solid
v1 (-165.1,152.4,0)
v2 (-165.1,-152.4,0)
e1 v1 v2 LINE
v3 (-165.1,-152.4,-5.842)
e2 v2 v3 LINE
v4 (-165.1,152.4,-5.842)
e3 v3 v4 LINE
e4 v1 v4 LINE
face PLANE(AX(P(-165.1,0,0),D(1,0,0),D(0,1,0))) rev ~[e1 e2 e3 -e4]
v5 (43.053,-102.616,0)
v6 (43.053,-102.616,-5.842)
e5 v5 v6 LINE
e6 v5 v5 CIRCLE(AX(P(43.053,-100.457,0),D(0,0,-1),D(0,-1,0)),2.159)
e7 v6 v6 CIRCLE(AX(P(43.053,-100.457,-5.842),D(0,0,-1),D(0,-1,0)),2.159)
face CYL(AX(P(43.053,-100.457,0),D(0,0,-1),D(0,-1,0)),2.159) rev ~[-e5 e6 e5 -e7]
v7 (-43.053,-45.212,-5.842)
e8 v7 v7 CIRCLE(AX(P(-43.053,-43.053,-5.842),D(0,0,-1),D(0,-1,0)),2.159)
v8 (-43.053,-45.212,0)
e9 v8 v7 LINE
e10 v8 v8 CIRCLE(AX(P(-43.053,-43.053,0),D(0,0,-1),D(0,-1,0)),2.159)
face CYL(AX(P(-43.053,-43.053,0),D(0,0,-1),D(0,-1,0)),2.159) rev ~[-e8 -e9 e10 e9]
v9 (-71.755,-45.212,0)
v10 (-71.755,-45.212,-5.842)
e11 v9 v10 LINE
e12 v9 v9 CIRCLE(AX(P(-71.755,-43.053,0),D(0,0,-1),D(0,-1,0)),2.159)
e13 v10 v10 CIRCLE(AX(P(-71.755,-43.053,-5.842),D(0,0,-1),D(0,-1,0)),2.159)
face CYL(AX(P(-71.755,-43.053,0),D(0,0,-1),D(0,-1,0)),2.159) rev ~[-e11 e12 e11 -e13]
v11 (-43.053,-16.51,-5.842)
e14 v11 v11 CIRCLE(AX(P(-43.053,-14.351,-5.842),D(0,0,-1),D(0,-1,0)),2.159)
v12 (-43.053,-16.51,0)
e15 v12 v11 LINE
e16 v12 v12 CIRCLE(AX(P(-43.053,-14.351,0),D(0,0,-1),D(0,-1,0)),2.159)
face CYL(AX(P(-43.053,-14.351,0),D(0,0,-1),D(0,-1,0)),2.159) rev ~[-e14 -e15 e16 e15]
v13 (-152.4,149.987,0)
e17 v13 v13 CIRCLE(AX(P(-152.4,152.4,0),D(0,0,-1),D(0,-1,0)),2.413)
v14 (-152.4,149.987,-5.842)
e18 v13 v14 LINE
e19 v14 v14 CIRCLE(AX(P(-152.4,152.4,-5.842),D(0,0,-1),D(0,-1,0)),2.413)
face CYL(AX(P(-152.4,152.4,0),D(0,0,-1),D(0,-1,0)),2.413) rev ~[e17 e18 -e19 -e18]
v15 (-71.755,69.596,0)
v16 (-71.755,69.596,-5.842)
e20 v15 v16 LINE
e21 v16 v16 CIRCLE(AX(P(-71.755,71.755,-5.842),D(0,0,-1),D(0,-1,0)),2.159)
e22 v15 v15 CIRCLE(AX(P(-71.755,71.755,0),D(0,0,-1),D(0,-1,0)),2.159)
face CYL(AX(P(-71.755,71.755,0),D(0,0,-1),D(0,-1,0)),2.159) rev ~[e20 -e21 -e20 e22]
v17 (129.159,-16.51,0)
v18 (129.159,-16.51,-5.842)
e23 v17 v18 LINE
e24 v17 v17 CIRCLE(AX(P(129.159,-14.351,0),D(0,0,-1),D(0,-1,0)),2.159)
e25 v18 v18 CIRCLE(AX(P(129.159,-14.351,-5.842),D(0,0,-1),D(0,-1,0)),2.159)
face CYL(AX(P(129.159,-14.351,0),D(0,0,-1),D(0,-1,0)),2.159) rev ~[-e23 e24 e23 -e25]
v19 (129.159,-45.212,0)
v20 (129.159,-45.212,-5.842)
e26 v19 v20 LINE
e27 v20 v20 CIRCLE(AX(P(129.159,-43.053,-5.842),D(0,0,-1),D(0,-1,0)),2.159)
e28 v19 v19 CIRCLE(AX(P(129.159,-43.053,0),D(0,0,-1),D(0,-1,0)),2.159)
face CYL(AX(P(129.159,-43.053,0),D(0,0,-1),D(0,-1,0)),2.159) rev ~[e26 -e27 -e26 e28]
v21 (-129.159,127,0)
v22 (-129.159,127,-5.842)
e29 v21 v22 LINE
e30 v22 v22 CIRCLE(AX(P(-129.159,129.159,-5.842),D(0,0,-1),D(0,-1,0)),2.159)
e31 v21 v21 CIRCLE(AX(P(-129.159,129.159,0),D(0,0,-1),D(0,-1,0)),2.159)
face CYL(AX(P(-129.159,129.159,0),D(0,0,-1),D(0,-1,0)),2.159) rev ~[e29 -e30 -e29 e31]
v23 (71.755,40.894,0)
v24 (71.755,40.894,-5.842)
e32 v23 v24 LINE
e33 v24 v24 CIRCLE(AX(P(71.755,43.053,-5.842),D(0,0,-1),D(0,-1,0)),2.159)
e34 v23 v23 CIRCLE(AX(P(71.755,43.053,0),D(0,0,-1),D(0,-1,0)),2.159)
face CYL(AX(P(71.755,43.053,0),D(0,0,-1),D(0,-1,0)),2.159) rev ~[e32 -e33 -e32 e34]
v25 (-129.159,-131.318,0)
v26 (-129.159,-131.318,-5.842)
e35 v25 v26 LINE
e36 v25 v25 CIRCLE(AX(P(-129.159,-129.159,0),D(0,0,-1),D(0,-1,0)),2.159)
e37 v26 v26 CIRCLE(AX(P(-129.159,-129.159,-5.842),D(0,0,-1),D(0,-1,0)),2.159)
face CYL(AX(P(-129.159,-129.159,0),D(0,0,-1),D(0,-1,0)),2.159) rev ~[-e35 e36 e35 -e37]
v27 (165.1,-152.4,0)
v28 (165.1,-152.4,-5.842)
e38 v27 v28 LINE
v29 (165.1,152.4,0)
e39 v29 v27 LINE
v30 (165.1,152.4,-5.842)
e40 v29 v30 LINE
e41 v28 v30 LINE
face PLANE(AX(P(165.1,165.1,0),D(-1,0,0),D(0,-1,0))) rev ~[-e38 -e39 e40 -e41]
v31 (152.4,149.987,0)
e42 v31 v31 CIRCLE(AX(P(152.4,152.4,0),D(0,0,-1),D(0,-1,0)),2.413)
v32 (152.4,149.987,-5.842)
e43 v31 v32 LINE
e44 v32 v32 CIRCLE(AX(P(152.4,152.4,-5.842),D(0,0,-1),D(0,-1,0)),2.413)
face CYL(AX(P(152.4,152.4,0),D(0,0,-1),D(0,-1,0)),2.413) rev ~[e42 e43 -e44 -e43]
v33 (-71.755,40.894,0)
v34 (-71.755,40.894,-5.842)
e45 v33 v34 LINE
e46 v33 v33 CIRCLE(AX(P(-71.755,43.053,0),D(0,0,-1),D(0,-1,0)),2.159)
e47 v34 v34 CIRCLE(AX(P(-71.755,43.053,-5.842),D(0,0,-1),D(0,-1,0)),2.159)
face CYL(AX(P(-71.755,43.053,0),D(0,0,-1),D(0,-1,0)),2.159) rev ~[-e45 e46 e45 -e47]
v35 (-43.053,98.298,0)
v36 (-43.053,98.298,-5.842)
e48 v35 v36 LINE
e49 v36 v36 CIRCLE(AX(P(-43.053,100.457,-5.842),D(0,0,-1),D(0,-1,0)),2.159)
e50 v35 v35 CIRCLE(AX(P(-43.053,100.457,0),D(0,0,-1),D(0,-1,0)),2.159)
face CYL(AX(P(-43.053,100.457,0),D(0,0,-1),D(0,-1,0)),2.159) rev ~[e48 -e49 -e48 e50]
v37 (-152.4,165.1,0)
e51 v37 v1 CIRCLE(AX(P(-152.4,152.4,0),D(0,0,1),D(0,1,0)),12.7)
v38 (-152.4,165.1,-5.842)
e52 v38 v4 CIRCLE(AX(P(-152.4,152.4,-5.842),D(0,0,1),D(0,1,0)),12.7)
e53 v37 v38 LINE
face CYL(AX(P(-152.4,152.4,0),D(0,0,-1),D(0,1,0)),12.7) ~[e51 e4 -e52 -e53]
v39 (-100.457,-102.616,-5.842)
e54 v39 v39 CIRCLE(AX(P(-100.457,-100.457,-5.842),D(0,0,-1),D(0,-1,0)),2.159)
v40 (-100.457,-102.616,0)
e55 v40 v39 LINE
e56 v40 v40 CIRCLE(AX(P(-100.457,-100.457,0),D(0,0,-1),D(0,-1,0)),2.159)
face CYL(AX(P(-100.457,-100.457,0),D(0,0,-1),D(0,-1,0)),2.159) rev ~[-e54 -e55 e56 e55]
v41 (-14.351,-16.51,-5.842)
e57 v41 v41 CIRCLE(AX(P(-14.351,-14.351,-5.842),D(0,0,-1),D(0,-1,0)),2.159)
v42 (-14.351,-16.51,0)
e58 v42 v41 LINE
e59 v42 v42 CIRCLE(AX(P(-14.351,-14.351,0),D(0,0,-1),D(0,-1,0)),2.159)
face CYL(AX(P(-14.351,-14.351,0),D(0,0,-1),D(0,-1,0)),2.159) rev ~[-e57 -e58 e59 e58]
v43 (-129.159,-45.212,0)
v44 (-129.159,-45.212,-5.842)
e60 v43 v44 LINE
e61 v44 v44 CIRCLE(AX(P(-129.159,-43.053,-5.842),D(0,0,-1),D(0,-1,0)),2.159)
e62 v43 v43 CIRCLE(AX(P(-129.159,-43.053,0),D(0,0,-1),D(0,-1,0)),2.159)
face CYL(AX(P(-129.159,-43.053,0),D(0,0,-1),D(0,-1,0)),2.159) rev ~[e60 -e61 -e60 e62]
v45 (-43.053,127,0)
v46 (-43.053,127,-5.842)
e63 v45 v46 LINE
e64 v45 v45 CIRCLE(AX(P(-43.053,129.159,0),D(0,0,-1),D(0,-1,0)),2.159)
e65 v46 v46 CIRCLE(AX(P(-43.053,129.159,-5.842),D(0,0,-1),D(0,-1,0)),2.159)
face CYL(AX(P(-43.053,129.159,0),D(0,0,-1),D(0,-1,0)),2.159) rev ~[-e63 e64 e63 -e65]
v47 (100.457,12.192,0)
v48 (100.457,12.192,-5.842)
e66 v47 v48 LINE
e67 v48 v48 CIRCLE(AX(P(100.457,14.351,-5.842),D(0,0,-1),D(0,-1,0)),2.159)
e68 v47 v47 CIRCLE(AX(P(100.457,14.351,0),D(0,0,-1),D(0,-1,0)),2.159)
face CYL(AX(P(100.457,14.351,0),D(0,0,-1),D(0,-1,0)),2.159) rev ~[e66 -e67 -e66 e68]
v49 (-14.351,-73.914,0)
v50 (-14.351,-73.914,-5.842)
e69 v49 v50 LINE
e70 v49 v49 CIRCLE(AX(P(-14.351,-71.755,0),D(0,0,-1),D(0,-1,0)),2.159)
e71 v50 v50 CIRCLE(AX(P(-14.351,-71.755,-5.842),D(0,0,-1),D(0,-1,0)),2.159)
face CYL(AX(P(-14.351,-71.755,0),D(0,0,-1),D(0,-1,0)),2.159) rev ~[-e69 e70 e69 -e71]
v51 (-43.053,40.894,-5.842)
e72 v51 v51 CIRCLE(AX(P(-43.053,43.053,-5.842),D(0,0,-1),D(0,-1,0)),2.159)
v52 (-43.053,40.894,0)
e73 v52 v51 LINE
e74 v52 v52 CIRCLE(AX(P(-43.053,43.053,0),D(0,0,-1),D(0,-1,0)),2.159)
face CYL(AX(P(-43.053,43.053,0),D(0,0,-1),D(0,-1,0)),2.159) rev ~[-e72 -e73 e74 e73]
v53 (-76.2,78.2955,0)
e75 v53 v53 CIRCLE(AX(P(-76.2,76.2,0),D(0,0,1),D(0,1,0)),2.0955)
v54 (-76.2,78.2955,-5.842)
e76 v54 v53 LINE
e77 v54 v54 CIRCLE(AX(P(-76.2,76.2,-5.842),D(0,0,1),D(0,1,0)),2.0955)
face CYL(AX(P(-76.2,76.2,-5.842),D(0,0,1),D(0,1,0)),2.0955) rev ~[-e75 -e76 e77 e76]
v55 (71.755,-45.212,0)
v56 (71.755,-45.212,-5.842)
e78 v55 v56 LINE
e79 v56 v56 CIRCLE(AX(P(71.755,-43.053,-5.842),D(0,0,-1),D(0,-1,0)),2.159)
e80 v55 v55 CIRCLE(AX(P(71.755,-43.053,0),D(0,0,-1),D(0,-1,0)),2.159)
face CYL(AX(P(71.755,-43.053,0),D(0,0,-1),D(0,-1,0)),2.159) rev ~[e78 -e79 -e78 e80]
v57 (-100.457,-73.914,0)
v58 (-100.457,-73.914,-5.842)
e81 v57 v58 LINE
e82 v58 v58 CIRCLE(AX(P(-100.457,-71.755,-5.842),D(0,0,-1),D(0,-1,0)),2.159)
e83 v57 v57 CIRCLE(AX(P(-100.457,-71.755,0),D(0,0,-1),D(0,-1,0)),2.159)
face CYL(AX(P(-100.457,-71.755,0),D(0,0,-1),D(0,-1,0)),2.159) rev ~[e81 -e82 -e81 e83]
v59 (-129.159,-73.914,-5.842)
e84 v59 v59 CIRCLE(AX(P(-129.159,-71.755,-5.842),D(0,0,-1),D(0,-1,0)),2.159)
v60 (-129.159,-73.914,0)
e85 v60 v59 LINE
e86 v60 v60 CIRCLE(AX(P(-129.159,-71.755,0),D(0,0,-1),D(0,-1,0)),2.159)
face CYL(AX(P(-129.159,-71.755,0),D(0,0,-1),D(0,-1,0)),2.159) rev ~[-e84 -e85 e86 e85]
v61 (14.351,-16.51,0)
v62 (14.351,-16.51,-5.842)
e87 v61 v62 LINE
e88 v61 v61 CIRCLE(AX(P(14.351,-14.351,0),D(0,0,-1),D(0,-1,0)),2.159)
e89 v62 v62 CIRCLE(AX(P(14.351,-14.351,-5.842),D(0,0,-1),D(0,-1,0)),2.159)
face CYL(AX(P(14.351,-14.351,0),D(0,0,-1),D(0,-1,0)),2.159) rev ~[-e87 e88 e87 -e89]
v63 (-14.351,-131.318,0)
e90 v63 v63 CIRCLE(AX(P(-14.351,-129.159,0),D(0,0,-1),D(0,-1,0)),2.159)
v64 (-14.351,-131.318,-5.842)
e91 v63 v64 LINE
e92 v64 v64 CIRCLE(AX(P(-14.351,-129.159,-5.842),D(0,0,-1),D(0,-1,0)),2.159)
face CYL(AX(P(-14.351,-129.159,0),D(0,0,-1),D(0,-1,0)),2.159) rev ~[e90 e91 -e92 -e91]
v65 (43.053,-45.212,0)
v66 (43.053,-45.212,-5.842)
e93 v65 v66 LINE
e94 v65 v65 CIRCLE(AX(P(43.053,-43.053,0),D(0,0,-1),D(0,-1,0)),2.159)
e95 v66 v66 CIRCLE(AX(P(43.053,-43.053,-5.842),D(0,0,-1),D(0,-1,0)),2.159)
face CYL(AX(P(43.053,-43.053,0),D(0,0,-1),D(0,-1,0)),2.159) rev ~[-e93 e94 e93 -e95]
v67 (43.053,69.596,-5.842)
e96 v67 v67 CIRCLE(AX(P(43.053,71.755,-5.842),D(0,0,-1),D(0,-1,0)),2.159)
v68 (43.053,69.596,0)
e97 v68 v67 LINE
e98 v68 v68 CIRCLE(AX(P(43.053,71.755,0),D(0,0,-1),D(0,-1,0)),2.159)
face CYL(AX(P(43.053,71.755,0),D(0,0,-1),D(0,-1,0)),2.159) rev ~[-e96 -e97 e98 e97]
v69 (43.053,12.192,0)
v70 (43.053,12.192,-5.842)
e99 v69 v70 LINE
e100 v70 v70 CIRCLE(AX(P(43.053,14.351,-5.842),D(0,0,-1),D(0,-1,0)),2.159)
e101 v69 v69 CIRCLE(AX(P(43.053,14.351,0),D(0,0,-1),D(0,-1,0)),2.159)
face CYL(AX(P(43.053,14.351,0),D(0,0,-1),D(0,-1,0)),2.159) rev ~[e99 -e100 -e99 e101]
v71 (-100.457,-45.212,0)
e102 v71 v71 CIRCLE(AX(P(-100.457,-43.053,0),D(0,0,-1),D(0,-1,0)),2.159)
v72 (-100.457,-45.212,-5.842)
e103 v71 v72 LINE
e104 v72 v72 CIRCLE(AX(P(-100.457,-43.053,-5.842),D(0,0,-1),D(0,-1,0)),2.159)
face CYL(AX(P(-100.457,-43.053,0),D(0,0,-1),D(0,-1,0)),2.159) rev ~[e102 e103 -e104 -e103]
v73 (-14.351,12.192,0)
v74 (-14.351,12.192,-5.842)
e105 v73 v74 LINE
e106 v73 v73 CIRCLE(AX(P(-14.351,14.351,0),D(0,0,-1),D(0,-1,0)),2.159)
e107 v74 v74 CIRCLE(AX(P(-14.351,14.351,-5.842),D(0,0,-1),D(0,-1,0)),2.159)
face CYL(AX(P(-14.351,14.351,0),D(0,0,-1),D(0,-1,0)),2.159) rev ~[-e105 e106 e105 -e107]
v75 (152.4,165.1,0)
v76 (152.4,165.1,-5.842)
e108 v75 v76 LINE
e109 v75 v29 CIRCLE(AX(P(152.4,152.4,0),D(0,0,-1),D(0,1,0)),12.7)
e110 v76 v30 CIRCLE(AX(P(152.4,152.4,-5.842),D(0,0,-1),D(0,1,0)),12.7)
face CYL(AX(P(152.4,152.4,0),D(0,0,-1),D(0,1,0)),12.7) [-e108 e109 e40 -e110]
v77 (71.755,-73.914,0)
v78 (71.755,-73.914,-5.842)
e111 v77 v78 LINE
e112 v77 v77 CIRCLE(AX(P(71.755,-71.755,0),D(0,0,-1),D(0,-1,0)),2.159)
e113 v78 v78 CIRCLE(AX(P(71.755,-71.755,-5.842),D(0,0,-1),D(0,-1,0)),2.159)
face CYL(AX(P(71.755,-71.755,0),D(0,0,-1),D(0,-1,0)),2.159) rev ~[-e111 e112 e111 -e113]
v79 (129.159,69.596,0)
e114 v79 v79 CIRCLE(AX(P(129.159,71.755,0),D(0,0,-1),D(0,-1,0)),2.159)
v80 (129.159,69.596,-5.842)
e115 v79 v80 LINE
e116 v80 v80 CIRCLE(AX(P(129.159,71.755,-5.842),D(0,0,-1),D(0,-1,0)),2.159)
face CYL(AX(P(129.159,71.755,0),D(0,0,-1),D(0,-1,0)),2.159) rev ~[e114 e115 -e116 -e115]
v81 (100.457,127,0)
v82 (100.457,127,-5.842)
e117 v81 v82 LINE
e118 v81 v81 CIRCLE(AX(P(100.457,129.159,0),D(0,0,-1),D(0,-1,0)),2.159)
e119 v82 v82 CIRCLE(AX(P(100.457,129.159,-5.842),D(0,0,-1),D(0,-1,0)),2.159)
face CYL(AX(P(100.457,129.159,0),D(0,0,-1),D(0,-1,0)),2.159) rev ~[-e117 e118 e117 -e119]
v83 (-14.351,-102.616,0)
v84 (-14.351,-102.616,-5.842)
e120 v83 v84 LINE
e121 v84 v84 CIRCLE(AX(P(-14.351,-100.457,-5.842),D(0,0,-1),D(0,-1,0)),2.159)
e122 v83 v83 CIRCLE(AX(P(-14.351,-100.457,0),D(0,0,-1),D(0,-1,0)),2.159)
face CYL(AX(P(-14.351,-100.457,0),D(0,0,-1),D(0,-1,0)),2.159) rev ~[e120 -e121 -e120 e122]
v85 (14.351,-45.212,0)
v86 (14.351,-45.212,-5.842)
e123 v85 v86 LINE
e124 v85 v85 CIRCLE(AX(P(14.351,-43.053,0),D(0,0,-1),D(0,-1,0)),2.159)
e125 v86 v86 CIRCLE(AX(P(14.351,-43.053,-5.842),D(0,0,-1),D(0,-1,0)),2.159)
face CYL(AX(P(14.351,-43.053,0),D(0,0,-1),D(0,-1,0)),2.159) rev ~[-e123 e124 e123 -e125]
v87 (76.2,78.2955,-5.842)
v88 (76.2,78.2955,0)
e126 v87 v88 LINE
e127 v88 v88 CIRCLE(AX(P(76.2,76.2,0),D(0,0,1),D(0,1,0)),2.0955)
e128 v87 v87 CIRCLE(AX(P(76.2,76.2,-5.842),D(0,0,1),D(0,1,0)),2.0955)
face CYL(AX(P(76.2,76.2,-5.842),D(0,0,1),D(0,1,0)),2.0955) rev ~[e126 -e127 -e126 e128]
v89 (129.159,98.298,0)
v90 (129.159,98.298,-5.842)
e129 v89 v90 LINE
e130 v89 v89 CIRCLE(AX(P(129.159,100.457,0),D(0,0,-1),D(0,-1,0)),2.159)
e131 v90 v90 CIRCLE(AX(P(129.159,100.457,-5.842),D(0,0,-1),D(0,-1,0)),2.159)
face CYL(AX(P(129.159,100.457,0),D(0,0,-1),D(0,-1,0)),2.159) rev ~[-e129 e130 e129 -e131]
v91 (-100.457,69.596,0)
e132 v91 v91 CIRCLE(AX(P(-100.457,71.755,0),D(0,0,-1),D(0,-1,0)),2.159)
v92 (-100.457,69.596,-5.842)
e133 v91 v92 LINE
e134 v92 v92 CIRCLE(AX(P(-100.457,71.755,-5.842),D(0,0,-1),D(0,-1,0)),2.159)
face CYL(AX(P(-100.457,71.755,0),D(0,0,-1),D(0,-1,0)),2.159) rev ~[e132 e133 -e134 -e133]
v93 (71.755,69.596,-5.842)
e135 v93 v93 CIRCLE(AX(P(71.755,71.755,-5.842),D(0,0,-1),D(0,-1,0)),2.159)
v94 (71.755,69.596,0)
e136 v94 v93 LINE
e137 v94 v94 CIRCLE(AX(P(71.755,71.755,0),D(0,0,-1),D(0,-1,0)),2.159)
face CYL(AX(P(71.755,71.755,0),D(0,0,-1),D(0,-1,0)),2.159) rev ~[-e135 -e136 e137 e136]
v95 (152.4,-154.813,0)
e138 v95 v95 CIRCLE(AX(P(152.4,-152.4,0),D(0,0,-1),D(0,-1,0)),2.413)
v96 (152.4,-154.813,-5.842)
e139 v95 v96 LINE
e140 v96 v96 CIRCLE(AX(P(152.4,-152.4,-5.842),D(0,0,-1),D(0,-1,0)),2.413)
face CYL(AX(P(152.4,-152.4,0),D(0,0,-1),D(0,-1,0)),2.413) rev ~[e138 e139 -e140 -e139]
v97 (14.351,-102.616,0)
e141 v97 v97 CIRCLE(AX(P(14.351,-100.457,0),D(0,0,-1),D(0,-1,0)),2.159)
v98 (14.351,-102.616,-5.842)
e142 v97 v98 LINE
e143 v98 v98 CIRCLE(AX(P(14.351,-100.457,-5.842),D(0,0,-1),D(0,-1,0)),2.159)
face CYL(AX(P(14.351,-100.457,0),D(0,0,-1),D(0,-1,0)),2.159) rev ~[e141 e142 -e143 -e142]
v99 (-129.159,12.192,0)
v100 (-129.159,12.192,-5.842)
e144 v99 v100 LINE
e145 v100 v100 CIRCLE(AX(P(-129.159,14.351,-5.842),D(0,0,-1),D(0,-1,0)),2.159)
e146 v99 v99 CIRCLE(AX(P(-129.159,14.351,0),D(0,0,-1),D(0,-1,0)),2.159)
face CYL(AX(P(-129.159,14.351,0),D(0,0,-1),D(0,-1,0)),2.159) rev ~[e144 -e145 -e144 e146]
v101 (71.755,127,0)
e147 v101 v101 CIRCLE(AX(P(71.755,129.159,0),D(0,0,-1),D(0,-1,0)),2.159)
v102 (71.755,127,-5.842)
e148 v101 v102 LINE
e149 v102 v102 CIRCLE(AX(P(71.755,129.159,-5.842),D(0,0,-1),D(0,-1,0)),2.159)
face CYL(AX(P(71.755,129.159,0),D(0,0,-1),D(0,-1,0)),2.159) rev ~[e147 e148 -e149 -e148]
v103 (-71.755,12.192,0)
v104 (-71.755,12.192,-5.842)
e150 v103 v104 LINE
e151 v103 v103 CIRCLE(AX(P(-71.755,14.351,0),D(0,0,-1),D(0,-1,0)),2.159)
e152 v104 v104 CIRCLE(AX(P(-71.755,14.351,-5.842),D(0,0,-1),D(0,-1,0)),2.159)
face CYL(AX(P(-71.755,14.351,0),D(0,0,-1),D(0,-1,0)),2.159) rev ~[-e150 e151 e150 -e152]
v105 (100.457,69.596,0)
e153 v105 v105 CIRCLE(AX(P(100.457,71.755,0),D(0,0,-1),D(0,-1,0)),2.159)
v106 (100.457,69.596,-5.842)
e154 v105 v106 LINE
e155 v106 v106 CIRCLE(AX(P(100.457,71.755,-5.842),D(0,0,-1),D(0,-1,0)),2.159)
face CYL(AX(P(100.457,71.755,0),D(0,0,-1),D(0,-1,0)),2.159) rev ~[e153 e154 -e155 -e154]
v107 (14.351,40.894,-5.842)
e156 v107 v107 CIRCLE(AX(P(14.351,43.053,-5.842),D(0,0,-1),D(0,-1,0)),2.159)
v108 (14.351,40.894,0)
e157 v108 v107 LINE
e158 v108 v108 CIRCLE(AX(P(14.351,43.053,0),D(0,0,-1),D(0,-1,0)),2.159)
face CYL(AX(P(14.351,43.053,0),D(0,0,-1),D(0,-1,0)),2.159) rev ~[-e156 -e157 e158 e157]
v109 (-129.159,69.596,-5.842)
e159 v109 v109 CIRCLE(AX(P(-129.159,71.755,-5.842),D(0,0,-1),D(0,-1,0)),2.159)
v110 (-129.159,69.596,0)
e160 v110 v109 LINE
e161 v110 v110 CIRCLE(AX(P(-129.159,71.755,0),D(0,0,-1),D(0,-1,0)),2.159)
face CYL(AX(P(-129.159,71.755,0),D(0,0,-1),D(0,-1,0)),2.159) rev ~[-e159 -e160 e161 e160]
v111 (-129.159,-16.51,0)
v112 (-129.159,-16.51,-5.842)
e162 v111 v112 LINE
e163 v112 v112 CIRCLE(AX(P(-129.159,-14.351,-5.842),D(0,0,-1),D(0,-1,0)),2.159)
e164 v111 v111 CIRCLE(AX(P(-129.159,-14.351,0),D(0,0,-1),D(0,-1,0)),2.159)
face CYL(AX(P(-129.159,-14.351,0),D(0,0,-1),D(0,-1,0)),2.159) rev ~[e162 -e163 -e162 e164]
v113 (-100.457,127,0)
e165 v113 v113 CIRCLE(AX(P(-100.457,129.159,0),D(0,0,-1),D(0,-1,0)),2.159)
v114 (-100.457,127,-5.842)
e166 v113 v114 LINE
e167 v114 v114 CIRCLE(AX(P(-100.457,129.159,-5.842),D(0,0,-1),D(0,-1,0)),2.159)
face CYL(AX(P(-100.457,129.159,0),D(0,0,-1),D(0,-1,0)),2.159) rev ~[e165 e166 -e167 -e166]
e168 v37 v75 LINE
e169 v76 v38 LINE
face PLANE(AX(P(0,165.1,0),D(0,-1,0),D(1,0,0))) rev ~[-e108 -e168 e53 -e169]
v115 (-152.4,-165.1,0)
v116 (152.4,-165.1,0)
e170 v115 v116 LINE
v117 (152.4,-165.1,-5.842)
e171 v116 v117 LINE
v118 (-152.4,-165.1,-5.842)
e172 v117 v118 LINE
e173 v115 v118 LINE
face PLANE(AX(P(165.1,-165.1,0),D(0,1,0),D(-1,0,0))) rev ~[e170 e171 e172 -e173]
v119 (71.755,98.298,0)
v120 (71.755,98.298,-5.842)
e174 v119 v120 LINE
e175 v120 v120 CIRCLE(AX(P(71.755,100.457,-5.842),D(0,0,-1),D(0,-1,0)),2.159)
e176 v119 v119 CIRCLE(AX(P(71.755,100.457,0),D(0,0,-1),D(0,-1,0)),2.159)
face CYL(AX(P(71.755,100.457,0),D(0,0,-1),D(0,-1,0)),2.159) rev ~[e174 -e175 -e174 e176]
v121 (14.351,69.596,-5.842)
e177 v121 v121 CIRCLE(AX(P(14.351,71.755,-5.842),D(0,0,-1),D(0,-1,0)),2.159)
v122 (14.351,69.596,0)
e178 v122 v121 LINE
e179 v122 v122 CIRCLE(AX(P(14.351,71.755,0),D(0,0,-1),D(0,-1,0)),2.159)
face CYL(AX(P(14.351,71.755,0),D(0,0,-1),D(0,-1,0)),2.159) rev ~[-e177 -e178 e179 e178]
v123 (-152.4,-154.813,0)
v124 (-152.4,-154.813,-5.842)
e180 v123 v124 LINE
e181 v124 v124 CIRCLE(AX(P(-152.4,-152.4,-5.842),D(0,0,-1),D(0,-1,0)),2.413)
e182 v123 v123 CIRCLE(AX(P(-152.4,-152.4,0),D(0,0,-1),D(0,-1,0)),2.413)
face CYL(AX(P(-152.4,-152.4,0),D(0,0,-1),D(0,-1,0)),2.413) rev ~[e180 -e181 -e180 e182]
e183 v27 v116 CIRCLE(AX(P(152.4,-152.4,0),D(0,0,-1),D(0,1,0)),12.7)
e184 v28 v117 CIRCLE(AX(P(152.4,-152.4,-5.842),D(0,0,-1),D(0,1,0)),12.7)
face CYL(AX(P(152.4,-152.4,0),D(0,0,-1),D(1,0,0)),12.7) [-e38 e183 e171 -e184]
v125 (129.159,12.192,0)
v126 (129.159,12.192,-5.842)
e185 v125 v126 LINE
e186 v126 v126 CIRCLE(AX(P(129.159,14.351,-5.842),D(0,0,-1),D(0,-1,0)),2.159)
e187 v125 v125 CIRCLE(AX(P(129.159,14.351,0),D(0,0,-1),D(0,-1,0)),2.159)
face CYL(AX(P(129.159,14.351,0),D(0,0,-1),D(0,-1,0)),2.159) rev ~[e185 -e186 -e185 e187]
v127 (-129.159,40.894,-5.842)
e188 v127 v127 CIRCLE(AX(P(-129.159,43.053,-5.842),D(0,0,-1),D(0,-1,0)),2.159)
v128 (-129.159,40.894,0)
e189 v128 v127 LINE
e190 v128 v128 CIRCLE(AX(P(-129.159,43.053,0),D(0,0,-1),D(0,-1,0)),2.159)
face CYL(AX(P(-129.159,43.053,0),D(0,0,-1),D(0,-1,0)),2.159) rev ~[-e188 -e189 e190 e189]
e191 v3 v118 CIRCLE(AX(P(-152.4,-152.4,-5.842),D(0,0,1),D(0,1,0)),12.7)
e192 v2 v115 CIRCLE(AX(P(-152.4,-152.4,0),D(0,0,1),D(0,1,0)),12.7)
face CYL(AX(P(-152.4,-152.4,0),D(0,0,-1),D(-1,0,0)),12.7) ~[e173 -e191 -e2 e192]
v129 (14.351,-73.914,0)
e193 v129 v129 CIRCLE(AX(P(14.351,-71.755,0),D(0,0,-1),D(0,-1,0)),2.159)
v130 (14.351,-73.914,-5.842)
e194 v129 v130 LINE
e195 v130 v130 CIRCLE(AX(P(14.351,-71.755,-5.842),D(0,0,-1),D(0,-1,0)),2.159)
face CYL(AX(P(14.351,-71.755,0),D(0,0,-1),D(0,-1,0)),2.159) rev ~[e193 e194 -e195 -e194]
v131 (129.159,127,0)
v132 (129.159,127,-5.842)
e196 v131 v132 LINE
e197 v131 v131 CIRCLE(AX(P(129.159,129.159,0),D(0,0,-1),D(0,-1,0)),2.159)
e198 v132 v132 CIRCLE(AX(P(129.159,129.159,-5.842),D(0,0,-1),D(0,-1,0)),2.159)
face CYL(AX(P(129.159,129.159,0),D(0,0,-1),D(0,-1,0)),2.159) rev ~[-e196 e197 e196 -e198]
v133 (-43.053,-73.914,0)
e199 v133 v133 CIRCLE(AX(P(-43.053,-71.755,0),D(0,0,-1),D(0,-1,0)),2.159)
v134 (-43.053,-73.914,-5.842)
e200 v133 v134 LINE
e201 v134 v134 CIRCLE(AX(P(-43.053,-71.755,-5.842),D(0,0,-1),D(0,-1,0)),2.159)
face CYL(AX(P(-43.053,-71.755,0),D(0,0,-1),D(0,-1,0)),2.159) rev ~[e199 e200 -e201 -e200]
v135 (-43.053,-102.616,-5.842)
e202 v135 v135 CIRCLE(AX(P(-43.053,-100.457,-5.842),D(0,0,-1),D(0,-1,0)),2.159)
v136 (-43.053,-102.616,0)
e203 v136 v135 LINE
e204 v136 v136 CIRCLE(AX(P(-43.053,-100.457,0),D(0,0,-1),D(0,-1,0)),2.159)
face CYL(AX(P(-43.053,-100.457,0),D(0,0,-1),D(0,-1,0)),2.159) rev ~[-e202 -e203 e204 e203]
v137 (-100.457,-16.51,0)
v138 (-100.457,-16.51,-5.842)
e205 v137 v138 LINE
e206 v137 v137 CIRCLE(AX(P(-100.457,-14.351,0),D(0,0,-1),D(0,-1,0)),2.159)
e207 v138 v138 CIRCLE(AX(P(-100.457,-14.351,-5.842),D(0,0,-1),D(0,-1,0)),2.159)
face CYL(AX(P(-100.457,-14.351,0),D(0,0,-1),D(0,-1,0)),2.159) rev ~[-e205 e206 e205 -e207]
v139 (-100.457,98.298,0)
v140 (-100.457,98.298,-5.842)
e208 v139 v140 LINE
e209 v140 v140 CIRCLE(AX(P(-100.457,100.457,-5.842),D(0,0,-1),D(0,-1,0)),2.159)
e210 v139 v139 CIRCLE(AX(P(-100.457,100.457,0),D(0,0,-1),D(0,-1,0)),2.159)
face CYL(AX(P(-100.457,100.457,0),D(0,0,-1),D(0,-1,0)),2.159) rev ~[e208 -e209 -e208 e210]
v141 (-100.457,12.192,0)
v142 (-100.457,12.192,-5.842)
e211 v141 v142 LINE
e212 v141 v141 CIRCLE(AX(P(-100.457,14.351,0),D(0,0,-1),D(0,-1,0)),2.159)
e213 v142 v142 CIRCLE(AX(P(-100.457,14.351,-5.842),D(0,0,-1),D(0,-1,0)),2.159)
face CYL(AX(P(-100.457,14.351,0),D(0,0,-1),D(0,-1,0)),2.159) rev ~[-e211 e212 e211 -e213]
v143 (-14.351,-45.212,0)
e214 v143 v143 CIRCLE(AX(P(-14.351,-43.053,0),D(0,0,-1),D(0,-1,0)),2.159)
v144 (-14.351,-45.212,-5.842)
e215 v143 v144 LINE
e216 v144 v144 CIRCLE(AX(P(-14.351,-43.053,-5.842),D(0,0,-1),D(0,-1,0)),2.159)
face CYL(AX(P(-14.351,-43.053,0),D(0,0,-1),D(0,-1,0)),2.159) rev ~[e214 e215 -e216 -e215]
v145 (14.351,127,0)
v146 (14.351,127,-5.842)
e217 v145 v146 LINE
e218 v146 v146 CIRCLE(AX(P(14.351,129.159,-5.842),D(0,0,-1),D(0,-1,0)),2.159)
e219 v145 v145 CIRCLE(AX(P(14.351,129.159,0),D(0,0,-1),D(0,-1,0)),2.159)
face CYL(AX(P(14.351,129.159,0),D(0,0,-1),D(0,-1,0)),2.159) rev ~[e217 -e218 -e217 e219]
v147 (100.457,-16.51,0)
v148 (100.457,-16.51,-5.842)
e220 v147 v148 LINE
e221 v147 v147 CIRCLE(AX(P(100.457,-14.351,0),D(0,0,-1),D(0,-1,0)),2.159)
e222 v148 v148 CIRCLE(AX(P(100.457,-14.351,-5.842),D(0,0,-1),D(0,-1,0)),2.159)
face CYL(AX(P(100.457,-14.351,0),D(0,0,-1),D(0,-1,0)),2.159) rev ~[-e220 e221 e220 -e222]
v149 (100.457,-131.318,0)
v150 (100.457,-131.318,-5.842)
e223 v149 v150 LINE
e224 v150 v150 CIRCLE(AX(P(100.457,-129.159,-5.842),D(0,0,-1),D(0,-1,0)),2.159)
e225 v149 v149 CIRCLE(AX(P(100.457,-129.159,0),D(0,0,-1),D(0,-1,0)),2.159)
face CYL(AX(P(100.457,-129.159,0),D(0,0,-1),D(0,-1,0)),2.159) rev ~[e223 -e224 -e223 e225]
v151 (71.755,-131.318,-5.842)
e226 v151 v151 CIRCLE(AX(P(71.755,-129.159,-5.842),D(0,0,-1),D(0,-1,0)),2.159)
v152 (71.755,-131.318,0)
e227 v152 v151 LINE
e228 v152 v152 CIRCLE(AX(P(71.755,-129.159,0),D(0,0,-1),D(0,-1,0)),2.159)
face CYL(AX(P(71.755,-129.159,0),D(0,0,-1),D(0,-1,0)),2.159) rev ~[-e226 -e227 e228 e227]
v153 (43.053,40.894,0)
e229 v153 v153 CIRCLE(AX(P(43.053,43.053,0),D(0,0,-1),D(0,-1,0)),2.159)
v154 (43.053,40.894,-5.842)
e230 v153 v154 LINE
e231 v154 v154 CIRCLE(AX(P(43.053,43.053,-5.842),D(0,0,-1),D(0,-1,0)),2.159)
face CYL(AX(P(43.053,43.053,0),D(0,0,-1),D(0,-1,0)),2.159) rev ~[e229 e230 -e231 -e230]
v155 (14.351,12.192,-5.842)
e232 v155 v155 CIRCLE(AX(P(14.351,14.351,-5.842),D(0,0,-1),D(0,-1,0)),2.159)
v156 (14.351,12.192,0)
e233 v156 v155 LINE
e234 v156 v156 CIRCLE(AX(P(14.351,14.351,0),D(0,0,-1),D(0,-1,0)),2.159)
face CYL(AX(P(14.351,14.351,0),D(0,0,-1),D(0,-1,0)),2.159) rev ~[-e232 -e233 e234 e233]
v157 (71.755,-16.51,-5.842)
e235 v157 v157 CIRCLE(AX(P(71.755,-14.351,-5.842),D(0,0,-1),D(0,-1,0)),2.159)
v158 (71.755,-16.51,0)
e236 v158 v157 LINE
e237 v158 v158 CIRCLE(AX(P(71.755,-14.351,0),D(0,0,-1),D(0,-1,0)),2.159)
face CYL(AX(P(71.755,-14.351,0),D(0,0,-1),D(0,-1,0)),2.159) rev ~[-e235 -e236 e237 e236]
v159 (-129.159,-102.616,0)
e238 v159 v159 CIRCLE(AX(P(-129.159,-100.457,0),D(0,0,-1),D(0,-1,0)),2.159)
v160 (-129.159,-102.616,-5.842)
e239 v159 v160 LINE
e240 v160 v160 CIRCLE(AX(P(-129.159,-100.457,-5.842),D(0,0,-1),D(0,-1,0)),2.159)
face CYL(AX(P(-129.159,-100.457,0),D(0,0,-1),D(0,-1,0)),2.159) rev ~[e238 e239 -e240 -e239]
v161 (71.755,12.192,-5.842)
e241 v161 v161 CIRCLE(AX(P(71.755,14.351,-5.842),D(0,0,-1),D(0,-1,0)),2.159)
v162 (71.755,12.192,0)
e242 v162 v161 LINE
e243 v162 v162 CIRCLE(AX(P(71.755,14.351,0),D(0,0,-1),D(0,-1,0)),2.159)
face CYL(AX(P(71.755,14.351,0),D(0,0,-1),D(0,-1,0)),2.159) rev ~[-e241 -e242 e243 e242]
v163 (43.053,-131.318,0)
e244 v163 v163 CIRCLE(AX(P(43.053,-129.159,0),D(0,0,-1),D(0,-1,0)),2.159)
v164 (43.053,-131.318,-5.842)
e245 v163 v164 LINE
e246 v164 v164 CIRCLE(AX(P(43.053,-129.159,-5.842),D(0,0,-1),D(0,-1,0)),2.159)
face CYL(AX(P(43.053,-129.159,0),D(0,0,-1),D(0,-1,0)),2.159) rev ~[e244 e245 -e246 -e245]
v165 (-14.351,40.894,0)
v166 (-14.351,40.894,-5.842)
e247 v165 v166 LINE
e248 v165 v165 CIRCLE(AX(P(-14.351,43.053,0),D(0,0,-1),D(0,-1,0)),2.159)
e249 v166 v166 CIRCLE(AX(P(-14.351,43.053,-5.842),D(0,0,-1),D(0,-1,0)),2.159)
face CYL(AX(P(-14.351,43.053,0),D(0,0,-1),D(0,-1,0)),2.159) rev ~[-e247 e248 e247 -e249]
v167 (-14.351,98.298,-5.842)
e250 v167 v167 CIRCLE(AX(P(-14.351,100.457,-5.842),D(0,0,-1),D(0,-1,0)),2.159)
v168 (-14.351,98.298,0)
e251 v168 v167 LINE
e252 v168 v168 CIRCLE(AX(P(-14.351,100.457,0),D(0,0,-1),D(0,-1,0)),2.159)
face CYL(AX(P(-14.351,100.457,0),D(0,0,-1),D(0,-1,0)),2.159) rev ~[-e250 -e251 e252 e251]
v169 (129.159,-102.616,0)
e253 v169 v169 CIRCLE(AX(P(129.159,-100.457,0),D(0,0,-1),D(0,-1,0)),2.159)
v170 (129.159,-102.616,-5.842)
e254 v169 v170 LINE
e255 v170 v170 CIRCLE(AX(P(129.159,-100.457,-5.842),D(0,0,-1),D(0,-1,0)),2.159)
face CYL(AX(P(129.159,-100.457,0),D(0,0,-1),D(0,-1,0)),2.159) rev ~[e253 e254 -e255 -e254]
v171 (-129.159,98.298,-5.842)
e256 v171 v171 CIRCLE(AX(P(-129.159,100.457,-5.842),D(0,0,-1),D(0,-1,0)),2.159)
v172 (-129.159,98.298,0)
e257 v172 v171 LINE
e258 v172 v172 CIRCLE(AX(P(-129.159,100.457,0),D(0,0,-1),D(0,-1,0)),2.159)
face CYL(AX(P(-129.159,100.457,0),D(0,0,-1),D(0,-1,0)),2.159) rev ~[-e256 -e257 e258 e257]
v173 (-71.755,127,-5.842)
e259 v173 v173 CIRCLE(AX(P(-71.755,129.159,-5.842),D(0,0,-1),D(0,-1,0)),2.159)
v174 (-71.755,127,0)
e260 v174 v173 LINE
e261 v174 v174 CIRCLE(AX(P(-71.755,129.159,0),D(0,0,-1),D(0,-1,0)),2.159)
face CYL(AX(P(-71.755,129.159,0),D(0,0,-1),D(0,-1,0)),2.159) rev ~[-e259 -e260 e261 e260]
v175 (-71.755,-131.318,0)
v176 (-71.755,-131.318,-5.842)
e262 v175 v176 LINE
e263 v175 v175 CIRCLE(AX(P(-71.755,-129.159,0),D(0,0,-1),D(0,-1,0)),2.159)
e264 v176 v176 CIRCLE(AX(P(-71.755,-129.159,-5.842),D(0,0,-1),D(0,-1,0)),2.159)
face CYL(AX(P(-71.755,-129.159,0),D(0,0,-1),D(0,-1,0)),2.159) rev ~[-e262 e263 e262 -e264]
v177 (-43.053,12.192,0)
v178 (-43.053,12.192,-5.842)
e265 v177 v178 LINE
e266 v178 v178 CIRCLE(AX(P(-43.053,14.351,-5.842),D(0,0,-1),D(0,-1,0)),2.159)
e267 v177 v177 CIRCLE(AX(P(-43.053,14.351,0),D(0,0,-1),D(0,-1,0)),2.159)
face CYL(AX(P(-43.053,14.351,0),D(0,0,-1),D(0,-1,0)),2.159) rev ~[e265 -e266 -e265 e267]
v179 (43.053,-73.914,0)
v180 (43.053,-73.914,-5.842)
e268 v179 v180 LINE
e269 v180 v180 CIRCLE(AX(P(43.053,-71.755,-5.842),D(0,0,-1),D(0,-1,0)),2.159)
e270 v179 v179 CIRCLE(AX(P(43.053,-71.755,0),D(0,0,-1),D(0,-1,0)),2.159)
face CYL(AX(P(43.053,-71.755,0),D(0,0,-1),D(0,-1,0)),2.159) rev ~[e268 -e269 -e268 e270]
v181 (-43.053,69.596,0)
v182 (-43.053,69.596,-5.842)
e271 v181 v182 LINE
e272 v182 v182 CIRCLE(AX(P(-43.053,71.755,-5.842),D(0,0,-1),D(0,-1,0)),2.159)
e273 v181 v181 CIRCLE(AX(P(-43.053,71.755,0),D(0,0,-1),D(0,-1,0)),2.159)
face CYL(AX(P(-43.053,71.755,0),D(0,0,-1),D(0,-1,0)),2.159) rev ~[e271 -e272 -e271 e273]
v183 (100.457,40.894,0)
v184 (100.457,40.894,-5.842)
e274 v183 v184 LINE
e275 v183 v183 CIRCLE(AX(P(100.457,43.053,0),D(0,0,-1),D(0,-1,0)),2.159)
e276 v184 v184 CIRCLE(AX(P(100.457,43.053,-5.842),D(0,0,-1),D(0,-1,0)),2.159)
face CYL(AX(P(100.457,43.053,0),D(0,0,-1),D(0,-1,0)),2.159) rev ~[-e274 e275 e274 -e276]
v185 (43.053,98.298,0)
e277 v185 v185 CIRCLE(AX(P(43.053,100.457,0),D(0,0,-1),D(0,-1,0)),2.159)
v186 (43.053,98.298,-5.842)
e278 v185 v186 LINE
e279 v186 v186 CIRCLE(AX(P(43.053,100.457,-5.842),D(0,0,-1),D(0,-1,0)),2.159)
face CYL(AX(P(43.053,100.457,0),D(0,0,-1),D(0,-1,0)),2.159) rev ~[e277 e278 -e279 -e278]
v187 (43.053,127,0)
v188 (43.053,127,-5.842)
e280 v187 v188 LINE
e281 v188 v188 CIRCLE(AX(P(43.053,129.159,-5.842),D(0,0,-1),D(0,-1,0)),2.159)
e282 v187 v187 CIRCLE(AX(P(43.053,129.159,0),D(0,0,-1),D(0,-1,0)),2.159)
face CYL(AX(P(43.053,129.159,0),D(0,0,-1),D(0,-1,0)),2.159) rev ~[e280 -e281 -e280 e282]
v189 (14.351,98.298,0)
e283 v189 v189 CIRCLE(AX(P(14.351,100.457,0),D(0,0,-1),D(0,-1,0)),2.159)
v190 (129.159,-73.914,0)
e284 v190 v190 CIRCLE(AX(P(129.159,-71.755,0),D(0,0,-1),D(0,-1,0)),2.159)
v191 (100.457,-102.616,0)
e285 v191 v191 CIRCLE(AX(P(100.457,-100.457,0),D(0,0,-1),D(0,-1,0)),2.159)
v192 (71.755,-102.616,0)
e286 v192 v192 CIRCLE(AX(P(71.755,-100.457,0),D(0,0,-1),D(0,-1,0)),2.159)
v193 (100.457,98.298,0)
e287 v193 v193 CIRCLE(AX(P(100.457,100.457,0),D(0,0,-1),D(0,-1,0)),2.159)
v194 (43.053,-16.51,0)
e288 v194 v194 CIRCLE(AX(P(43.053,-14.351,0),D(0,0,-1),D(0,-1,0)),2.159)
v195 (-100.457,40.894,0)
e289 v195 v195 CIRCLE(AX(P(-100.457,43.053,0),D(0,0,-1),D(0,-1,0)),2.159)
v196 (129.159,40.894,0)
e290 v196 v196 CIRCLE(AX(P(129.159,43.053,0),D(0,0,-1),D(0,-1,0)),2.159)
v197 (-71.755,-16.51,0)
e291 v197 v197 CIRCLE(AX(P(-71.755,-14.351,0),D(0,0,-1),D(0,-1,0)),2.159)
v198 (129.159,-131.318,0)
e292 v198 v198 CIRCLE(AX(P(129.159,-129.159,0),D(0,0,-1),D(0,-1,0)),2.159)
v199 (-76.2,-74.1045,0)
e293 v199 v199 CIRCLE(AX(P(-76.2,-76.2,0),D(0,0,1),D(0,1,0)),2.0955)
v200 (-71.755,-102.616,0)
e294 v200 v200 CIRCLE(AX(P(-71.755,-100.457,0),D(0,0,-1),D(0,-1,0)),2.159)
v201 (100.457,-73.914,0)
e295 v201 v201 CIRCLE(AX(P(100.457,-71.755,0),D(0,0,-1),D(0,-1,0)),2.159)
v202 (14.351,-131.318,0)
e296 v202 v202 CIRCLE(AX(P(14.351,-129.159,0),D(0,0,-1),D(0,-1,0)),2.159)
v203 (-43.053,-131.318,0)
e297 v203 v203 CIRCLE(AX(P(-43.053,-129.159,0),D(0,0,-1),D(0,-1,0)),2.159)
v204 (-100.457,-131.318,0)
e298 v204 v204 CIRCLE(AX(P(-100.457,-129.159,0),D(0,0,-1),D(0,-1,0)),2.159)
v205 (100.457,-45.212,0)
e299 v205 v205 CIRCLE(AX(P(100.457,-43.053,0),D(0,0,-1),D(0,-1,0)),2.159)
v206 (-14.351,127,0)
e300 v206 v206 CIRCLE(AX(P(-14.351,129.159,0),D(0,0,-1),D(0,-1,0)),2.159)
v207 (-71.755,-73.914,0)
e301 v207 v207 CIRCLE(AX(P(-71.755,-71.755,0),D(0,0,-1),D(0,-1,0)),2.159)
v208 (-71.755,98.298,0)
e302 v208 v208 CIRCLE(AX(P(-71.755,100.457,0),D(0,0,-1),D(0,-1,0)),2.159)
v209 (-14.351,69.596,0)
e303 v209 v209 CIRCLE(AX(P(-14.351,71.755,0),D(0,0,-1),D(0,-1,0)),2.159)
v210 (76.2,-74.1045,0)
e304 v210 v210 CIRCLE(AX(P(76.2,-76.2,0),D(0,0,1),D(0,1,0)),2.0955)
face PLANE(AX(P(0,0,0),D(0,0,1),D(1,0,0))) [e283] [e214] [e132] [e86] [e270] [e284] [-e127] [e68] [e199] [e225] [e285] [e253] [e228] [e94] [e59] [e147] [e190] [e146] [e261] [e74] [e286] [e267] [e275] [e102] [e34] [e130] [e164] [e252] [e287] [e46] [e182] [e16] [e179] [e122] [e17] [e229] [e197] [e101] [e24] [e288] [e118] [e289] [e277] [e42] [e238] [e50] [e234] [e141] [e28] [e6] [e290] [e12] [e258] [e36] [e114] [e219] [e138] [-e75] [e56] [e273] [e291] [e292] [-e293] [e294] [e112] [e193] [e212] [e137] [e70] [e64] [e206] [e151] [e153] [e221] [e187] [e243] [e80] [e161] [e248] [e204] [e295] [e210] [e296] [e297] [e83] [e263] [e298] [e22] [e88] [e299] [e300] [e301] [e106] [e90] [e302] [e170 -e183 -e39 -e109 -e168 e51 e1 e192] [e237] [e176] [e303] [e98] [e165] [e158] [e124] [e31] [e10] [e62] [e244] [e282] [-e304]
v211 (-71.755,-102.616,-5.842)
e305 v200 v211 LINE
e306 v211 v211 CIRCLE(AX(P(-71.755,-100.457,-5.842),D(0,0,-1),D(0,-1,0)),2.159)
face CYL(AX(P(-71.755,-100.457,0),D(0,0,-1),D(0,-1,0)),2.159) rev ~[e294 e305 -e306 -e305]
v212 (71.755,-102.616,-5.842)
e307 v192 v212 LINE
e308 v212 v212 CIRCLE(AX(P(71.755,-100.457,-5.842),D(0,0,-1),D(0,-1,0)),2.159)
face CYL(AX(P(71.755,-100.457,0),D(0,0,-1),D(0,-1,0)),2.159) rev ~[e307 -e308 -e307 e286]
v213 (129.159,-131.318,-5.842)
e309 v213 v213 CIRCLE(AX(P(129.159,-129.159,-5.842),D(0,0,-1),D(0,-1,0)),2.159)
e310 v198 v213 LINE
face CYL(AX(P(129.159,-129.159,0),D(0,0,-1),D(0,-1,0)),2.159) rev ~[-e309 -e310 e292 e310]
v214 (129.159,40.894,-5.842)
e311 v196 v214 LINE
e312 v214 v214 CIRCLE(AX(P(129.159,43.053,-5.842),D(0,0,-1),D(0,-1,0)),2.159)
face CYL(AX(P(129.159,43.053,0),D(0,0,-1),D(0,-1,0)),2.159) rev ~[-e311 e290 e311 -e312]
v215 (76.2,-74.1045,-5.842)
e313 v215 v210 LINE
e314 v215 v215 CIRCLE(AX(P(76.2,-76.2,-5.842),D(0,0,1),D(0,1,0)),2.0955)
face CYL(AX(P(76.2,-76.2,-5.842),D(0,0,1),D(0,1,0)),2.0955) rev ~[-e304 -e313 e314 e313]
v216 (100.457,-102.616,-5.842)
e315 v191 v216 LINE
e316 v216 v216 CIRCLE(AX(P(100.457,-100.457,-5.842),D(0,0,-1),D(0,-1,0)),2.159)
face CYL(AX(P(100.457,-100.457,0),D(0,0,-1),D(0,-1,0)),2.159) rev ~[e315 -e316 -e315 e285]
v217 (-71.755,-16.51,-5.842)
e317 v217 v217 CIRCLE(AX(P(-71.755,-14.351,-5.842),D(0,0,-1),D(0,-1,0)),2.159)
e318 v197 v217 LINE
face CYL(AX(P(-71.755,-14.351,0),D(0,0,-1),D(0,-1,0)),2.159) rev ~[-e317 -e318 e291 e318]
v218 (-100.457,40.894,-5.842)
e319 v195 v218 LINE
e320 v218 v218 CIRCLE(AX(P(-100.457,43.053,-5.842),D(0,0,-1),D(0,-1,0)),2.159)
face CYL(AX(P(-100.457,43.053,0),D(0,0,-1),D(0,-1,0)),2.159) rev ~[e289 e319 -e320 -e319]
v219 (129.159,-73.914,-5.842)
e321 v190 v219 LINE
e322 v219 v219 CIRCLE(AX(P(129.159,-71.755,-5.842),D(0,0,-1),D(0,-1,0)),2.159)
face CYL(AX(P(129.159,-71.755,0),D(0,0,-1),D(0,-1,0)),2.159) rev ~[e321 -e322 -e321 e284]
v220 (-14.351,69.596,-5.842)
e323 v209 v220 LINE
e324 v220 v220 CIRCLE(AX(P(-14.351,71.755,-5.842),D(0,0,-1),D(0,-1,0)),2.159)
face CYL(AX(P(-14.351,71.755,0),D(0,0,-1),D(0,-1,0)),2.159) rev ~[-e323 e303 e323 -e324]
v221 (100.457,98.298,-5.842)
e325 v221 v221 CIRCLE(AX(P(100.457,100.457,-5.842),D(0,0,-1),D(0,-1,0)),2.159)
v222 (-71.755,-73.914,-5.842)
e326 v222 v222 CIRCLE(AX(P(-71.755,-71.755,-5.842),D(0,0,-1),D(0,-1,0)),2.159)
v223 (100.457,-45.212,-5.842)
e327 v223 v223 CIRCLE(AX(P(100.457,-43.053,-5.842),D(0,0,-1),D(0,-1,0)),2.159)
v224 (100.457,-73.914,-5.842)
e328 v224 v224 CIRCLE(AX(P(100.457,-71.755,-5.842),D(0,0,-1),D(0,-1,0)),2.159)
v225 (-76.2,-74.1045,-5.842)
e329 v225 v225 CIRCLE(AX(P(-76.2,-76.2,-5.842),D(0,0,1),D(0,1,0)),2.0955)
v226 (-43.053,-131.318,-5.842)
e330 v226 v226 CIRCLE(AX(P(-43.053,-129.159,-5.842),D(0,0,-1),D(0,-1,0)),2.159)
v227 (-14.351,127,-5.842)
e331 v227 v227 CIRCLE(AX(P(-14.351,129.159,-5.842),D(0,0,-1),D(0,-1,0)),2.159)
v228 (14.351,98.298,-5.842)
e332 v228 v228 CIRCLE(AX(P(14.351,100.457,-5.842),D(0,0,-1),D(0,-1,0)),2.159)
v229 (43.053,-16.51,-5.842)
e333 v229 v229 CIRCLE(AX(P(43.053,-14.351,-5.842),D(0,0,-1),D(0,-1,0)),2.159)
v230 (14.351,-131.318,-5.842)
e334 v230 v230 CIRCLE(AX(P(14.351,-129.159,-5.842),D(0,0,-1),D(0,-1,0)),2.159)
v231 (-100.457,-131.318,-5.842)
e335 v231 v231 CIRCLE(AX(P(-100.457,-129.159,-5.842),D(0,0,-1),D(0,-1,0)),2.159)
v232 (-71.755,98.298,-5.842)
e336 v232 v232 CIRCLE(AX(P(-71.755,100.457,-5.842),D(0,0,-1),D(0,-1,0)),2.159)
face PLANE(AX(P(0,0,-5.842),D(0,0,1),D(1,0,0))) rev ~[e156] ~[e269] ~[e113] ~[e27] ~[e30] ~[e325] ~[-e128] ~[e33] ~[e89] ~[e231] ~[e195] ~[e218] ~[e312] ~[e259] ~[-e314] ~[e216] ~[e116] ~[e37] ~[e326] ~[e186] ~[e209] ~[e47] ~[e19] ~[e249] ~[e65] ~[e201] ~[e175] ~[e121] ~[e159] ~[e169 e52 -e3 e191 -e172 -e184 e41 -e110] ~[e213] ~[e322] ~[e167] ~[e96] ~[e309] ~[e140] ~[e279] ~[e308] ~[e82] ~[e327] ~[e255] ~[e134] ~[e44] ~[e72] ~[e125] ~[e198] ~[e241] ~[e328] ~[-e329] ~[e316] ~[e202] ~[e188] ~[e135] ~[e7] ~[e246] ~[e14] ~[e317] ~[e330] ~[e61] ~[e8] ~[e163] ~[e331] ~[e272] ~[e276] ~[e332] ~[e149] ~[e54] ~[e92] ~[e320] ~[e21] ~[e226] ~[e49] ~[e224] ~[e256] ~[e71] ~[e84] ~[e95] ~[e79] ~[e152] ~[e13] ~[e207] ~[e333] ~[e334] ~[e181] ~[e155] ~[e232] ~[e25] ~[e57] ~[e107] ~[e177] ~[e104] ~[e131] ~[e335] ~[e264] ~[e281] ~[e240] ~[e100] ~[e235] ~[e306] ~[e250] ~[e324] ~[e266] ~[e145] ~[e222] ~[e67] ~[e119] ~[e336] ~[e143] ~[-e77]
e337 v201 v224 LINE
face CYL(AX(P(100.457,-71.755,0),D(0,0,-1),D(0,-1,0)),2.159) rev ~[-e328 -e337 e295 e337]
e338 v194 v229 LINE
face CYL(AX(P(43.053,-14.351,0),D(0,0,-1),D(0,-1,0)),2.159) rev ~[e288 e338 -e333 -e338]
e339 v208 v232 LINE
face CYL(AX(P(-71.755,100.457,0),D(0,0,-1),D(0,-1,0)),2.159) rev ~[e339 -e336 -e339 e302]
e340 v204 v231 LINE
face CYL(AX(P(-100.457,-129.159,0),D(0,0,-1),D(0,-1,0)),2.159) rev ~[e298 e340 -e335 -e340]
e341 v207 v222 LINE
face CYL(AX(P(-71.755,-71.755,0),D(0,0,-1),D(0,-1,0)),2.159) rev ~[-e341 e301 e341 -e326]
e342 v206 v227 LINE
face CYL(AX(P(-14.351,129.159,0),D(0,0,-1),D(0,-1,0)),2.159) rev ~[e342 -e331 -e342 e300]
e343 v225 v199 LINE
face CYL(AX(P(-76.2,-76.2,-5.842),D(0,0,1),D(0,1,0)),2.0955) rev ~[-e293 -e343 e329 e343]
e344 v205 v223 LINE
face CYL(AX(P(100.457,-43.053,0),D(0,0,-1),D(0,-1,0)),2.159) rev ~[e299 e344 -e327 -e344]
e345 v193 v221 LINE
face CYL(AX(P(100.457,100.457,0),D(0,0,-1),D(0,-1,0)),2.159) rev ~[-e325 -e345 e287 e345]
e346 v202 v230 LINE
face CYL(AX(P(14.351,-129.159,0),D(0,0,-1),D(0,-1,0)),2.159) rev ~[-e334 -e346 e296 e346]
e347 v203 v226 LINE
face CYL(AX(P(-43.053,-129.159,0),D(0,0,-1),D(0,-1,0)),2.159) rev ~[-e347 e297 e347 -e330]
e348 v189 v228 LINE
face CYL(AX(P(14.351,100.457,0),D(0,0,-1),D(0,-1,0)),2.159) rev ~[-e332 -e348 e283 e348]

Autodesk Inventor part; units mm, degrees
ref_plane "YZ Plane" through (0, 0, 0) normal (1, 0, 0) x (0, 1, 0)
ref_plane "XZ Plane" through (0, 0, 0) normal (0, 1, 0) x (-1, 0, 0)
ref_plane "XY Plane" through (0, 0, 0) normal (0, 0, 1) x (1, 0, 0)
sketch "Sketch1" plane through (0, 0, 0) normal (0, 0, 1) x (1, 0, 0)
  line L0 (0, 231.14) -> (0, -231.14) projected
  line L1 (-231.14, 0) -> (231.14, 0) projected
  line L2 (165.1, -165.1) -> (-165.1, -165.1)
  line L3 (-165.1, -165.1) -> (-165.1, 165.1)
  line L4 (-165.1, 165.1) -> (165.1, 165.1)
  line L5 (165.1, 165.1) -> (165.1, -165.1)
  line L6 (165.1, -165.1) -> (-165.1, 165.1) construction
  line L7 (-165.1, -165.1) -> (165.1, 165.1) construction
  line L8 (129.159, -129.159) -> (-129.159, -129.159)
  line L9 (-129.159, -129.159) -> (-129.159, 129.159)
  line L10 (-129.159, 129.159) -> (129.159, 129.159)
  line L11 (129.159, 129.159) -> (129.159, -129.159)
  line L12 (129.159, -129.159) -> (-129.159, 129.159) construction
  line L13 (-129.159, -129.159) -> (129.159, 129.159) construction
  line L14 (76.2, -76.2) -> (-76.2, -76.2) construction
  line L15 (-76.2, -76.2) -> (-76.2, 76.2) construction
  line L16 (-76.2, 76.2) -> (76.2, 76.2) construction
  line L17 (76.2, 76.2) -> (76.2, -76.2) construction
  line L18 (76.2, -76.2) -> (-76.2, 76.2) construction
  line L19 (-76.2, -76.2) -> (76.2, 76.2) construction
  line L20 (114.808, -114.808) -> (-114.808, -114.808) construction
  line L21 (-114.808, -114.808) -> (-114.808, 114.808) construction
  line L22 (-114.808, 114.808) -> (114.808, 114.808) construction
  line L23 (114.808, 114.808) -> (114.808, -114.808) construction
  line L24 (114.808, -114.808) -> (-114.808, 114.808) construction
  line L25 (-114.808, -114.808) -> (114.808, 114.808) construction
  line L26 (152.4, -152.4) -> (-152.4, -152.4) construction
  line L27 (-152.4, -152.4) -> (-152.4, 152.4) construction
  line L28 (-152.4, 152.4) -> (152.4, 152.4) construction
  line L29 (152.4, 152.4) -> (152.4, -152.4) construction
  line L30 (152.4, -152.4) -> (-152.4, 152.4) construction
  line L31 (-152.4, -152.4) -> (152.4, 152.4) construction
  line L32 (150.1998, -145.6199) -> (159.1801, -154.6002)
  line L33 (159.1801, -154.6002) -> (154.6002, -159.1801)
  line L34 (154.6002, -159.1801) -> (145.6199, -150.1998)
  line L35 (145.6199, -150.1998) -> (150.1998, -145.6199)
  line L36 (150.1998, -145.6199) -> (154.6002, -159.1801) construction
  line L37 (159.1801, -154.6002) -> (145.6199, -150.1998) construction
  circle A0 centre (-129.159, 129.159) radius 16.383 construction
  line L38 (-140.7435, 117.5745) -> (-117.5745, 140.7435) construction
  circle A1 centre (-129.159, 100.457) radius 16.383 construction
  line L39 (-143.3471, 108.6485) -> (-114.9709, 92.2655) construction
  point P0 (0, 0)
  dimension "d0" = 129.159
  dimension "d1" = 129.159
  dimension "d2" = 330.2
  dimension "d23" = 152.4
  dimension "d36" = 114.808
  dimension "d63" = 304.8
  dimension "d64" = 6.477
  dimension "d65" = 12.7
  dimension "d97" = 32.766
  dimension "d98" = 45
  dimension "d99" = 30
  dimension "d100" = 28.702
extrude "Extrusion1" add sketch "Sketch1" against normal blind 5.842 contours L4 L5 L1 L11 L10 L0 | L0 L10 L9 L1 L3 L4 | L10 L11 L1 L0 | L0 L1 L9 L10 | L1 L11 L8 L0 | L0 L8 L9 L1 | L1 L9 L8 L0 L2 L3 | L5 L2 L0 L8 L11 L1 | L32 L33 L34 L35
hole "Hole1" at (-129.159, 129.159, 0) direction (0, 0, -1) diameter 4.318 end through all
pattern_linear "Rectangular Pattern1" count 10 spacing 28.702 along (1, 0, 0) count 10 spacing 28.702 along (0, -1, 0) of "Hole1"
fillet "Fillet2" radius 12.7 4 edges at (-165.1, -165.1, -2.921) (165.1, -165.1, -2.921) (165.1, 165.1, -2.921) (-165.1, 165.1, -2.921)
hole "Hole6" at (-152.4, 152.4, 0) at (-152.4, -152.4, 0) at (152.4, -152.4, 0) at (152.4, 152.4, 0) direction (0, 0, -1) diameter 4.826 end through all
sketch "Sketch4" plane through (0, 0, -5.842) normal (0, 0, -1) x (-1, 0, 0)
  point P0 (0, 0)
  point P1 (76.2, 76.2)
  point P2 (76.2, -76.2)
  point P3 (-76.2, -76.2)
  point P4 (-76.2, 76.2)
hole "Hole10" at (-76.2, -76.2, -5.842) at (76.2, -76.2, -5.842) at (76.2, 76.2, -5.842) at (-76.2, 76.2, -5.842) direction (0, 0, 1) diameter 4.191 end through all
equation "\"d1\" = d0"
